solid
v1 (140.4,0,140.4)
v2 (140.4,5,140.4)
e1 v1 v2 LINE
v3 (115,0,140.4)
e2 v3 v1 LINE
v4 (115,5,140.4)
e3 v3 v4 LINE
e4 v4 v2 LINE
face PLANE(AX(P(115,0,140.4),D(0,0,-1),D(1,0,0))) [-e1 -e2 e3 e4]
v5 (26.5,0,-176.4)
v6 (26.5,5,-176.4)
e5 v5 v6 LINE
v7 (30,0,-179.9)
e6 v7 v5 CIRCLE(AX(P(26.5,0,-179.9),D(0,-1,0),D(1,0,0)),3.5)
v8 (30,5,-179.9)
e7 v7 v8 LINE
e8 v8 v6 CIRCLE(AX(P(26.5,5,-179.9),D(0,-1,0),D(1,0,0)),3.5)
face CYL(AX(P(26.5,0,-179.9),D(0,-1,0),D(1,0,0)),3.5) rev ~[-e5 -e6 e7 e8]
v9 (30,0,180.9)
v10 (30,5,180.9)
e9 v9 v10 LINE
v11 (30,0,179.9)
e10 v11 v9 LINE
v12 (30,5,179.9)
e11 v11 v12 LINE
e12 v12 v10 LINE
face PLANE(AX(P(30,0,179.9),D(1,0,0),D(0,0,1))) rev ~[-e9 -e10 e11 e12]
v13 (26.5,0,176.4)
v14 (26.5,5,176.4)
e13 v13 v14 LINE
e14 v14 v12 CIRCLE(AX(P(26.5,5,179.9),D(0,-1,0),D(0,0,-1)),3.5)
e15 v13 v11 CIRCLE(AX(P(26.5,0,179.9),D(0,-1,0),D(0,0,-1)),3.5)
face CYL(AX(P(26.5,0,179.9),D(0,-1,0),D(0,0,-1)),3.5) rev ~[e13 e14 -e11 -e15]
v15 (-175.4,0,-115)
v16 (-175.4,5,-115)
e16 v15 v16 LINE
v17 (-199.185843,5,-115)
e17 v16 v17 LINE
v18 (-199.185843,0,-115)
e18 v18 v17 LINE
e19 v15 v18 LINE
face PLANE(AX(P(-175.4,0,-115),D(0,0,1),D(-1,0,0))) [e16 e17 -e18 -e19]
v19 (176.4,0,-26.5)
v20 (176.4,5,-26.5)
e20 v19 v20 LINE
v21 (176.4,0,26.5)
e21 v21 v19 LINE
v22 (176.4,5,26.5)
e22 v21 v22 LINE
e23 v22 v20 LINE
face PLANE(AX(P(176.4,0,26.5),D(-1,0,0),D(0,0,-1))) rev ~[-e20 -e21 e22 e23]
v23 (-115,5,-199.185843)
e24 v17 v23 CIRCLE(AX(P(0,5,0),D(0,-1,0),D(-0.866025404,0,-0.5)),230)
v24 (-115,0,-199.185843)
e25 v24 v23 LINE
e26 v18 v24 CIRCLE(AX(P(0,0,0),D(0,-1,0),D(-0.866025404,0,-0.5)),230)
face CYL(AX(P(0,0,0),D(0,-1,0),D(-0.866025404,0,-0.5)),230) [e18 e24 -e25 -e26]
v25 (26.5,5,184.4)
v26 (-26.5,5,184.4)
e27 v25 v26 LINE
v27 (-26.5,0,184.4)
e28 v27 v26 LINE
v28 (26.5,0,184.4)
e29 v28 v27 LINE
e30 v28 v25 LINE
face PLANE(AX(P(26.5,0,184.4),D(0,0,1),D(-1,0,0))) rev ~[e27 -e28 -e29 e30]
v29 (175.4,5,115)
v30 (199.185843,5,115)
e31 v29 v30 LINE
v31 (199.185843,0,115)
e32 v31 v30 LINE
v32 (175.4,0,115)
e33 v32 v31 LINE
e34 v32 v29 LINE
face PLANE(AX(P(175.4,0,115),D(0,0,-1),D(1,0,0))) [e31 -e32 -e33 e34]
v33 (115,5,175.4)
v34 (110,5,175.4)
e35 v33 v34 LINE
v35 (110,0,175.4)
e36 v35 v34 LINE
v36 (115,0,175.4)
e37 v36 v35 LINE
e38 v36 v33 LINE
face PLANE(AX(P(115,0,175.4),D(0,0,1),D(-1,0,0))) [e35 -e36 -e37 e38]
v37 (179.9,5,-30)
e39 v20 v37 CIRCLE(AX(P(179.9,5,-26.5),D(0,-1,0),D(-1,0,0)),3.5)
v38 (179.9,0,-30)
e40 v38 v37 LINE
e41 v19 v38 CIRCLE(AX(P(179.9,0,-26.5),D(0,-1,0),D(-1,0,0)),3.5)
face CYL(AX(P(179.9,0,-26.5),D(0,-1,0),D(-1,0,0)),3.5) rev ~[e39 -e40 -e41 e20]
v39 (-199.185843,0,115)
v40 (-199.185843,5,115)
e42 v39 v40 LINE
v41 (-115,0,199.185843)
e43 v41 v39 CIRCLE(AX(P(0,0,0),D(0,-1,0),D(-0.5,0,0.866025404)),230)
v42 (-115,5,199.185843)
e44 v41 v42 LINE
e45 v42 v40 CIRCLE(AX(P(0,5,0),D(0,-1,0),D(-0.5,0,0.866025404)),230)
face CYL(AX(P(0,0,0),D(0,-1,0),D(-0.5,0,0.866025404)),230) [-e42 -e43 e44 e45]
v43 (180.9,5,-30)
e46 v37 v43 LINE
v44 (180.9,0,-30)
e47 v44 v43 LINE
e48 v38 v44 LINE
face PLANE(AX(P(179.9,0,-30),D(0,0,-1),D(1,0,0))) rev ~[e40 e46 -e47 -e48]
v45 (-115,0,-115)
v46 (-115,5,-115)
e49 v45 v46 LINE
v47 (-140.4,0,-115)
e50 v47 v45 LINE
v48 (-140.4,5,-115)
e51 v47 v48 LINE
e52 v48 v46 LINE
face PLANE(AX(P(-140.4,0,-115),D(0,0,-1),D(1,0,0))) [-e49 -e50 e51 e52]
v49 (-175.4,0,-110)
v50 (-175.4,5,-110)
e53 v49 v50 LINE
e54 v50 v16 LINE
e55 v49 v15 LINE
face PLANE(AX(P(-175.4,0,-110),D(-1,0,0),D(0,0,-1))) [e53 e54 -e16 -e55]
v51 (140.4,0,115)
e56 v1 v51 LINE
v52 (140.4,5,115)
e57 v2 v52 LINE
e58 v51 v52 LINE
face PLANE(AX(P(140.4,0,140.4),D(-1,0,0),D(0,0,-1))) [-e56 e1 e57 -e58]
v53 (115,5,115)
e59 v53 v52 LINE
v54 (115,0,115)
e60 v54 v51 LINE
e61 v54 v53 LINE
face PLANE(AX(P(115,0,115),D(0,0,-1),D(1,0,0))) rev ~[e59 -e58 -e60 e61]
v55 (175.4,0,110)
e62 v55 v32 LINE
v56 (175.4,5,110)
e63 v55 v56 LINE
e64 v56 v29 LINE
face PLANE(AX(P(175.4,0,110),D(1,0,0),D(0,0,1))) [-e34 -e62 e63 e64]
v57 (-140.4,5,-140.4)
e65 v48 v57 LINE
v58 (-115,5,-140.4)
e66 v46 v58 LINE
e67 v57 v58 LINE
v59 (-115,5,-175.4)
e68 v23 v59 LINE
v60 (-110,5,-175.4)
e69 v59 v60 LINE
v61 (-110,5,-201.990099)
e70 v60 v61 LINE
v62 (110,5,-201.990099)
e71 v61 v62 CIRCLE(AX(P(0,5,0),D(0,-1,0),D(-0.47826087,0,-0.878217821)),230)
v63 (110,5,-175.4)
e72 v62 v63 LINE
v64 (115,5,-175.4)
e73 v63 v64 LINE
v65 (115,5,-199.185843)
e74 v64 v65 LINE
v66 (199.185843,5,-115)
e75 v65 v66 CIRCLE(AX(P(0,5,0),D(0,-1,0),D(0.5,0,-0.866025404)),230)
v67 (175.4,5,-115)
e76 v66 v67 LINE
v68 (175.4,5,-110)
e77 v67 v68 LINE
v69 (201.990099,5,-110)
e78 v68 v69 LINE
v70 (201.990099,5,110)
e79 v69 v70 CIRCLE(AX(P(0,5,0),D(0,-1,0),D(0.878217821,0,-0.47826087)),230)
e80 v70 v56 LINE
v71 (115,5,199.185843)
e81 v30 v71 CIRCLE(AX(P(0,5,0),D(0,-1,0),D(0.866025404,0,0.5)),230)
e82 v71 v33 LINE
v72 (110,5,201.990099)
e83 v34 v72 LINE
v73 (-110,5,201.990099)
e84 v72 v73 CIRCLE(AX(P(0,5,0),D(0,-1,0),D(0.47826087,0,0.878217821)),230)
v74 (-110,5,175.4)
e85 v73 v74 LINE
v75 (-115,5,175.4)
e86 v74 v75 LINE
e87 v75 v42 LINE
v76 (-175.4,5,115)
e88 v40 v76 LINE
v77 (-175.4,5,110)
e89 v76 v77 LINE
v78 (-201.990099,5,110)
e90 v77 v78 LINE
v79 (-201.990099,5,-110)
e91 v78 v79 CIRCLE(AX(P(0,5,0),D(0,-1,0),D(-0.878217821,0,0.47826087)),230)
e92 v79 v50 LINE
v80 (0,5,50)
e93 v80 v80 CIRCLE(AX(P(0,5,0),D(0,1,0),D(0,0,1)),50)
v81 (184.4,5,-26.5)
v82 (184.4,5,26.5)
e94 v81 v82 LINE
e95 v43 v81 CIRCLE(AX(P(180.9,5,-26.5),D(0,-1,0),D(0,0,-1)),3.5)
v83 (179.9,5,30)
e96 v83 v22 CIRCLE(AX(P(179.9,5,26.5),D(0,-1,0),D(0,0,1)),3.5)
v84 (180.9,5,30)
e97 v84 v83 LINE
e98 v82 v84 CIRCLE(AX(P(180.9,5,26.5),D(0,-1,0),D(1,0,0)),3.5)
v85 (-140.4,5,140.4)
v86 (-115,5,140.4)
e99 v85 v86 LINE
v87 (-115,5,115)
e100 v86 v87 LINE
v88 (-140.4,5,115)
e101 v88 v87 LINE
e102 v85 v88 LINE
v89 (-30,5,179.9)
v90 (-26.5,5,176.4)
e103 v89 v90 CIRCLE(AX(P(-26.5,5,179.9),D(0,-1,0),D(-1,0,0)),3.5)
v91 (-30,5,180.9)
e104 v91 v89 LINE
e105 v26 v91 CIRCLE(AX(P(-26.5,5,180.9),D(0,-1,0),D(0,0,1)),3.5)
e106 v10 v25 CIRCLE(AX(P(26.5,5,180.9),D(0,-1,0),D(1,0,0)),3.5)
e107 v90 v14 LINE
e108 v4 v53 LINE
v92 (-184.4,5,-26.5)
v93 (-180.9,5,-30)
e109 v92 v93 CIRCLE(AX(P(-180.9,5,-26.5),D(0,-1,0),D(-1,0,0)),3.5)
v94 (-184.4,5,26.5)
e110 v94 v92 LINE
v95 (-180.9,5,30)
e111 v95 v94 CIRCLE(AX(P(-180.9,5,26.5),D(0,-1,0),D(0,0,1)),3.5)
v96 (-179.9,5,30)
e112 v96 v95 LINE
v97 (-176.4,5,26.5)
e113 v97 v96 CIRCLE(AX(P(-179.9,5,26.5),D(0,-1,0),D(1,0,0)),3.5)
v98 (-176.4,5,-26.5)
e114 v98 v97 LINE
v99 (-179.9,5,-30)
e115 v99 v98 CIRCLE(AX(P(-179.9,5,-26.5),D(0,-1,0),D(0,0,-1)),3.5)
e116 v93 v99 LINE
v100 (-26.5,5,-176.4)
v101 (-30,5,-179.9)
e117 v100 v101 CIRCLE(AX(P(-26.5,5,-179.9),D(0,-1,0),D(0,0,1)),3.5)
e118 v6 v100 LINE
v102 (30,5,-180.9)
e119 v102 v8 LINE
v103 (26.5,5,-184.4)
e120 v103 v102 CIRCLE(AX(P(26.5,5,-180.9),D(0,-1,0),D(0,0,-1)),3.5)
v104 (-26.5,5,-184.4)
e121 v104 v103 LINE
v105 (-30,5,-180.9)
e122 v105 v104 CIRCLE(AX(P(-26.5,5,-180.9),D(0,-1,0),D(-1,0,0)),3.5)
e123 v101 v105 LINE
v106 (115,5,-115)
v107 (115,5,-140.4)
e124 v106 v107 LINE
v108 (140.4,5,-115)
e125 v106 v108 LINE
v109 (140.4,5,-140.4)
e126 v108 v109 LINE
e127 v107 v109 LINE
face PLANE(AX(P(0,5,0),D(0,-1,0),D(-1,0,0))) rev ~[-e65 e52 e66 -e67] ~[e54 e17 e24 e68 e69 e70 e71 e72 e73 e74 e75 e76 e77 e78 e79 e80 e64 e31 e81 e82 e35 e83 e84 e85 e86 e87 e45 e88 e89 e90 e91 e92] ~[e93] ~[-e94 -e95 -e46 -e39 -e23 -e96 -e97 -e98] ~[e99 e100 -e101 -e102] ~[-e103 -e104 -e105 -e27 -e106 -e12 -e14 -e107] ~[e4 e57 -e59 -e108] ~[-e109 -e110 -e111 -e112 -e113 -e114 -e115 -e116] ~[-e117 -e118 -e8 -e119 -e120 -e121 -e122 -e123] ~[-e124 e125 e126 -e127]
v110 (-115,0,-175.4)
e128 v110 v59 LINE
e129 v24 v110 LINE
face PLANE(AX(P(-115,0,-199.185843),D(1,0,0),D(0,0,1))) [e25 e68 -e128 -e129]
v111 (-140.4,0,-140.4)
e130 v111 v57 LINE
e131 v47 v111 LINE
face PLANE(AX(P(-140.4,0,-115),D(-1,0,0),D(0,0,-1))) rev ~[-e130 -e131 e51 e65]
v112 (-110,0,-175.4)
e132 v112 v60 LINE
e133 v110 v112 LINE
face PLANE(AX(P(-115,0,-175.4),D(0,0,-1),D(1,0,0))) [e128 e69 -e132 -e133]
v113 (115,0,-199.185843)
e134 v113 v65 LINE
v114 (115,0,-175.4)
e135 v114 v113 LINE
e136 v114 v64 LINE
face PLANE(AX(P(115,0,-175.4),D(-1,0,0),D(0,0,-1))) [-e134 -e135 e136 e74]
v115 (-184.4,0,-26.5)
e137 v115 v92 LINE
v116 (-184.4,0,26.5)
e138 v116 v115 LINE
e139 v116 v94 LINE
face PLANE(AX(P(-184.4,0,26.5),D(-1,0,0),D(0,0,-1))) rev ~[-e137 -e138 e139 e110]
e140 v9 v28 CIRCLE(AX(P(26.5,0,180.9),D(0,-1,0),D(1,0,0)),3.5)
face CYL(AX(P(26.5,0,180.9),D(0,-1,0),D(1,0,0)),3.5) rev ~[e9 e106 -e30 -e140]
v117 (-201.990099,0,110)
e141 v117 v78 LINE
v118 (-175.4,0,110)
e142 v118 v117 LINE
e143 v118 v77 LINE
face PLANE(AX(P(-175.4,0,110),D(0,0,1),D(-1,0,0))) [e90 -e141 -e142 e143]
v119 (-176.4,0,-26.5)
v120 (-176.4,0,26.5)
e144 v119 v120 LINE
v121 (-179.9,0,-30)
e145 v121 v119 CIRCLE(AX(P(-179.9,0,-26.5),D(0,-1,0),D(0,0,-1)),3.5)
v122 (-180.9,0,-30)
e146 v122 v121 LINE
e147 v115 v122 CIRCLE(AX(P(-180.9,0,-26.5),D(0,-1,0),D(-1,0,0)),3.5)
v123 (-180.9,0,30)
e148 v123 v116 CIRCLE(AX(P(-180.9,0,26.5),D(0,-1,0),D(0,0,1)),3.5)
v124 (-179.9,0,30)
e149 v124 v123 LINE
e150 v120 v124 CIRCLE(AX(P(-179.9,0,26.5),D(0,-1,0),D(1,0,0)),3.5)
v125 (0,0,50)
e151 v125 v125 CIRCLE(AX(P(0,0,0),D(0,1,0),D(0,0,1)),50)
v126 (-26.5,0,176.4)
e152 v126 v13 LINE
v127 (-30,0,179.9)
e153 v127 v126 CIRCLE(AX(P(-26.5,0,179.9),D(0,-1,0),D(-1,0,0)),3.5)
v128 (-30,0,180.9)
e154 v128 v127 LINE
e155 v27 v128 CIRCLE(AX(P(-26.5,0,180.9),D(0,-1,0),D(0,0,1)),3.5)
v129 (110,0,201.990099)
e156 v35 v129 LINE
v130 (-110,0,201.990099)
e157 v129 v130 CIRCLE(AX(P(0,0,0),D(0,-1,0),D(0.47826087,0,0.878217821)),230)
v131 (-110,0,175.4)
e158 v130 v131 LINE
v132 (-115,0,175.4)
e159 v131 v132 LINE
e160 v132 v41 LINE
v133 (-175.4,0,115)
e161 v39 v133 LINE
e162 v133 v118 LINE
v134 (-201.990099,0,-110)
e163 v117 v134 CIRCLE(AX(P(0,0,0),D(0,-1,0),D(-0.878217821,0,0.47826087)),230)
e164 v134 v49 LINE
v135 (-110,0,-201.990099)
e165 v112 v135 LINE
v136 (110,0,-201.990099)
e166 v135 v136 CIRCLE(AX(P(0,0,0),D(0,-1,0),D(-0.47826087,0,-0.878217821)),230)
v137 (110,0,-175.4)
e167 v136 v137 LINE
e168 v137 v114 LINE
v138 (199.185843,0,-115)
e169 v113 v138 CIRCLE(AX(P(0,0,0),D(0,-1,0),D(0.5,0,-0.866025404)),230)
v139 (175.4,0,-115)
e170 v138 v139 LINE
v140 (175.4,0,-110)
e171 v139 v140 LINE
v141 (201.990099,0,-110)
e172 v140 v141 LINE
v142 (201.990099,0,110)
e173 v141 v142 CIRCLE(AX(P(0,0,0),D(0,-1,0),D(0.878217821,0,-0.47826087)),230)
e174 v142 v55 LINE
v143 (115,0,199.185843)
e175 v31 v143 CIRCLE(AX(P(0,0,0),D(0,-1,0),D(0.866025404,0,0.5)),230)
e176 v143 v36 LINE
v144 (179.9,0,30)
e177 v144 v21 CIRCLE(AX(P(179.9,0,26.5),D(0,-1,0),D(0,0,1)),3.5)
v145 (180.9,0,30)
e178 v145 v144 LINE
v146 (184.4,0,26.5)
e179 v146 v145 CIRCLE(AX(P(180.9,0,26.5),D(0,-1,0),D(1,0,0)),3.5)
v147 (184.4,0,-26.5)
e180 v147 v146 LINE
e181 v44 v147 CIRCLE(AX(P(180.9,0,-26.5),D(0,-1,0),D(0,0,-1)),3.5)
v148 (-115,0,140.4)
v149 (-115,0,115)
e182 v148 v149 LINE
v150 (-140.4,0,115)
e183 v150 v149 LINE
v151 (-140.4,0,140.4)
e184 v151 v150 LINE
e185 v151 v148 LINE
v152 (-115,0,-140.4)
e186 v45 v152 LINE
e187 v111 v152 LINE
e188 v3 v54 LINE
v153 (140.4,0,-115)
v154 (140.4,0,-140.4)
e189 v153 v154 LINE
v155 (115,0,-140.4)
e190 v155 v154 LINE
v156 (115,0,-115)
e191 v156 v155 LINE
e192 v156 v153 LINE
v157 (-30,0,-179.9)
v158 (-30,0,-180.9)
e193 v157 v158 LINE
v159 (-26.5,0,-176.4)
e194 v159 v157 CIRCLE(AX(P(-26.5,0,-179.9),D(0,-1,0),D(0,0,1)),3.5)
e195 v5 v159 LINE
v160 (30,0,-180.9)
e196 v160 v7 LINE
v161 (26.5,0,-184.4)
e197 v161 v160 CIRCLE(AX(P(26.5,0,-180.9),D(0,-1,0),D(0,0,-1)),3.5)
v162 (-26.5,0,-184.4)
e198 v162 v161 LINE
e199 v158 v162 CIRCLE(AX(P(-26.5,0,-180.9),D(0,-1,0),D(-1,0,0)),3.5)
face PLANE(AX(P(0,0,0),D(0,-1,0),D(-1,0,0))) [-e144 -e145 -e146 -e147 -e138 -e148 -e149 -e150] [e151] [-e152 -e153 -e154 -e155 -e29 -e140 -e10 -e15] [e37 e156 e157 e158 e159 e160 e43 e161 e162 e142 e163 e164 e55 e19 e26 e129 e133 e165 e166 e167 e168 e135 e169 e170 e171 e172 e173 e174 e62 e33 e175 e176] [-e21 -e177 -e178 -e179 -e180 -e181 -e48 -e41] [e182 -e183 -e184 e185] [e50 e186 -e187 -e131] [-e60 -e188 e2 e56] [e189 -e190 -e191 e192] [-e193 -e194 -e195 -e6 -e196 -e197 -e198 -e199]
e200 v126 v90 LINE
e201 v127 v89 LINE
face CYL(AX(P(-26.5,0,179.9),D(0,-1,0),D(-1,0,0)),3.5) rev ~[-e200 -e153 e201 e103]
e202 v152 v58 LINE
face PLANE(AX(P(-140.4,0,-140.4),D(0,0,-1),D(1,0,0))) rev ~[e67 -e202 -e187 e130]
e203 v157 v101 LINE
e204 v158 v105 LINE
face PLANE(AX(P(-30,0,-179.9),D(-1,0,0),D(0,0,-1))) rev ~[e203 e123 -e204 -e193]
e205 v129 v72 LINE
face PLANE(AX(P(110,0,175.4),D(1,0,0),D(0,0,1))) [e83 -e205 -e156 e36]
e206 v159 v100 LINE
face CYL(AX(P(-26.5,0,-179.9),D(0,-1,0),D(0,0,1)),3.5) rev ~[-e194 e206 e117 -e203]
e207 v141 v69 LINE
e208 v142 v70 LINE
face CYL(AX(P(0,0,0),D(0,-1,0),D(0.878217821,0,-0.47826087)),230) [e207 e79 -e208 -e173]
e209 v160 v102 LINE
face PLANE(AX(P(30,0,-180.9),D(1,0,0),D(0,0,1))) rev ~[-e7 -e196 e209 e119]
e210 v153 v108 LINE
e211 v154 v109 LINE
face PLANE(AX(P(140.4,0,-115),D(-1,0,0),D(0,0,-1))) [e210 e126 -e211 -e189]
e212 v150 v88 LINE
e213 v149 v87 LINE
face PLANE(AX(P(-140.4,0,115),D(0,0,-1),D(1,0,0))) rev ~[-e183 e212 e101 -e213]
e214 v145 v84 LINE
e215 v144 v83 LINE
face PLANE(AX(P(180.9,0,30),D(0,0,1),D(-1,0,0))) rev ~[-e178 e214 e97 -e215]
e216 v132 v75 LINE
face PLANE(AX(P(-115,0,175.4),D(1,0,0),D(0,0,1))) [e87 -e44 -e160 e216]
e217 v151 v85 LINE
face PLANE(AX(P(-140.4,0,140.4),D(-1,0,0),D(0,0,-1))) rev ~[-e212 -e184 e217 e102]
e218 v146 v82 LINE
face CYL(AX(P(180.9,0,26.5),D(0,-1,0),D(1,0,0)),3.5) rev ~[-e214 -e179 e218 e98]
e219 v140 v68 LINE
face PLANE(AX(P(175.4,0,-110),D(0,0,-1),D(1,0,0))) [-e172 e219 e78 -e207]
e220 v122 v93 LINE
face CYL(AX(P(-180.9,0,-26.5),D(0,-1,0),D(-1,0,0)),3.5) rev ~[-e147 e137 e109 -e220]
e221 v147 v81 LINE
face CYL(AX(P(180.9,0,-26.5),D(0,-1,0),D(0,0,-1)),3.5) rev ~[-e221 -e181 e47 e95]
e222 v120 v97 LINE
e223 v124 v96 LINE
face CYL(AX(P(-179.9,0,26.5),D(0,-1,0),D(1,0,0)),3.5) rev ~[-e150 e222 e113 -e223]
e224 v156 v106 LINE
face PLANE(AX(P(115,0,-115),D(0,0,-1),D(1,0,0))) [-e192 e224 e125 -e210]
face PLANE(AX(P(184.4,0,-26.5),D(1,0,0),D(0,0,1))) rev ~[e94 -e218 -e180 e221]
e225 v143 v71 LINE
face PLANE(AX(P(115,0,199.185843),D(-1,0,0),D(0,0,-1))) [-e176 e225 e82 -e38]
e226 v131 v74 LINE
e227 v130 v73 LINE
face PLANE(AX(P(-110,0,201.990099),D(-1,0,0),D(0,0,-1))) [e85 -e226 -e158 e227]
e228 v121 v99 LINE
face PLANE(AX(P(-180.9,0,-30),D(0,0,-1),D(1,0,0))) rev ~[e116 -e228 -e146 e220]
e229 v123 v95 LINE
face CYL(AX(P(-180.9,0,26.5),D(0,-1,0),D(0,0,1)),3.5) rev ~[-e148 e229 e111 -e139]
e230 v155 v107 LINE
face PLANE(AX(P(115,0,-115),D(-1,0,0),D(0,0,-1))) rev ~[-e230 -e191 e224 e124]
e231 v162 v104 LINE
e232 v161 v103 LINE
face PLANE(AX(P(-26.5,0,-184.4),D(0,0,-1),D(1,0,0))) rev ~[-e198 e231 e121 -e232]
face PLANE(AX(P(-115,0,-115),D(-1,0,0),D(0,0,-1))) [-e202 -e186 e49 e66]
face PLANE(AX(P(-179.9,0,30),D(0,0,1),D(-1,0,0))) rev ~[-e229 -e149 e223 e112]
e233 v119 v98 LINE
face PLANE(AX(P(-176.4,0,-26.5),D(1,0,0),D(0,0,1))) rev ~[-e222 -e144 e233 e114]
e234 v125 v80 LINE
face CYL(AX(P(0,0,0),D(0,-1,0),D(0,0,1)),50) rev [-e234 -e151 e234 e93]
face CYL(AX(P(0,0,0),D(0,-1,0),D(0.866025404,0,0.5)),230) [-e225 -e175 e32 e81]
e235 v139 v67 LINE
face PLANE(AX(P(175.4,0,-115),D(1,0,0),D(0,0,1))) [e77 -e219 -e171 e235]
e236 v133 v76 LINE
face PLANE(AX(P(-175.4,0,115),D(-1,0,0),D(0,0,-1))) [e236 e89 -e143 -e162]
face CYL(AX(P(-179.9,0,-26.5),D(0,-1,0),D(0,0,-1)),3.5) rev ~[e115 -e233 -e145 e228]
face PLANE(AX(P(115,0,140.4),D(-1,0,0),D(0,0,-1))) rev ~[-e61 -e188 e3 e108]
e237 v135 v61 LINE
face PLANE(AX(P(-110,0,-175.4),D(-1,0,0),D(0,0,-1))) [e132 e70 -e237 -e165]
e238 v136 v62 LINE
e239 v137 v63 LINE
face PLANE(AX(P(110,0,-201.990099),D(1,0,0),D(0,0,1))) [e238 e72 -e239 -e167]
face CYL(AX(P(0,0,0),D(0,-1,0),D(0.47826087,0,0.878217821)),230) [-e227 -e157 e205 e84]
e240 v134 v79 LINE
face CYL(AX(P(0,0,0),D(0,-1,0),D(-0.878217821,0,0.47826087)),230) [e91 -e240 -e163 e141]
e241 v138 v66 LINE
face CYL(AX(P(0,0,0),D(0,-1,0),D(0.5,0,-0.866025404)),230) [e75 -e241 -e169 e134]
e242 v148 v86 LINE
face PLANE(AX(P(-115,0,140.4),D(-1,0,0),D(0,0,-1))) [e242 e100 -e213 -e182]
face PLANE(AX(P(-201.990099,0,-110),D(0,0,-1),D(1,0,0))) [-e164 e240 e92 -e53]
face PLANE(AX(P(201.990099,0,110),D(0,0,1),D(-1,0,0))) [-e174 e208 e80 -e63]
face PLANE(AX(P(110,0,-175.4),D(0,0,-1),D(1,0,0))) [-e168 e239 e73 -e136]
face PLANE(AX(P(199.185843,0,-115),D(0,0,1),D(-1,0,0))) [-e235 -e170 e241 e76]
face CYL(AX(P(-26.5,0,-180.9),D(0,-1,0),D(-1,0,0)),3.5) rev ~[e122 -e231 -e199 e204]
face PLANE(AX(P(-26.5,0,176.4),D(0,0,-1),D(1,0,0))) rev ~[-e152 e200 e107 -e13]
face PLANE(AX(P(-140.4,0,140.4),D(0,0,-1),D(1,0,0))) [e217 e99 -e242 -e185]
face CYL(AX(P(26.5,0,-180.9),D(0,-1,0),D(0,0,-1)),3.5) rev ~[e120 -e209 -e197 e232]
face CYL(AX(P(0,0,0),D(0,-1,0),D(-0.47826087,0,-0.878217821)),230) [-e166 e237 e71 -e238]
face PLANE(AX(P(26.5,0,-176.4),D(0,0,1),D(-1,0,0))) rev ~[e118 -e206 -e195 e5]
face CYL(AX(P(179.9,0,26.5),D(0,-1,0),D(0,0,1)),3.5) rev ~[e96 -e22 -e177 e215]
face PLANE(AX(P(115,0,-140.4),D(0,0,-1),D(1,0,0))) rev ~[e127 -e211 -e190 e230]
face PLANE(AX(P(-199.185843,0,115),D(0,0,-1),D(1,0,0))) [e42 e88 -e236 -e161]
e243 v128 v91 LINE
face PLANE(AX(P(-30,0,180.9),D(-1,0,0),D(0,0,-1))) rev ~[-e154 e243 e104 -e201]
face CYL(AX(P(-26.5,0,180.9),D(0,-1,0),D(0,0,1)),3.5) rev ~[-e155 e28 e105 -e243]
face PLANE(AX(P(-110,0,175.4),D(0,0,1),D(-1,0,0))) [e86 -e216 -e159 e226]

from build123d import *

# Parameters (mm, degrees)
SKETCH1_R           = 50
SKETCH1_W           = 25.4
SKETCH1_H           = 25.4
BOSS_EXTRUDE1_DEPTH = 5


with BuildPart() as part:
    # Sketch1 → Boss-Extrude1 (new body)
    with BuildSketch(Plane(origin=(0, 0, 0), x_dir=(1, 0, 0), z_dir=(0, 1, 0))):
        with BuildLine():
            Line((175.4, 110), (201.990098767, 110))
            ThreePointArc((201.990098767, 110), (230, 0), (201.990098767, -110))
            Line((201.990098767, -110), (175.4, -110))
            Line((175.4, -110), (175.4, -115))
            Line((175.4, -115), (199.18584287, -115))
            ThreePointArc((199.18584287, -115), (162.634559673, -162.634559673), (115, -199.18584287))
            Line((115, -199.18584287), (115, -175.4))
            Line((115, -175.4), (110, -175.4))
            Line((110, -175.4), (110, -201.990098767))
            ThreePointArc((110, -201.990098767), (0, -230), (-110, -201.990098767))
            Line((-110, -201.990098767), (-110, -175.4))
            Line((-110, -175.4), (-115, -175.4))
            Line((-115, -175.4), (-115, -199.18584287))
            ThreePointArc((-115, -199.18584287), (-162.634559673, -162.634559673), (-199.18584287, -115))
            Line((-199.18584287, -115), (-175.4, -115))
            Line((-175.4, -115), (-175.4, -110))
            Line((-175.4, -110), (-201.990098767, -110))
            ThreePointArc((-201.990098767, -110), (-230, 0), (-201.990098767, 110))
            Line((-201.990098767, 110), (-175.4, 110))
            Line((-175.4, 110), (-175.4, 115))
            Line((-175.4, 115), (-199.18584287, 115))
            ThreePointArc((-199.18584287, 115), (-162.634559673, 162.634559673), (-115, 199.18584287))
            Line((-115, 199.18584287), (-115, 175.4))
            Line((-115, 175.4), (-110, 175.4))
            Line((-110, 175.4), (-110, 201.990098767))
            ThreePointArc((-110, 201.990098767), (0, 230), (110, 201.990098767))
            Line((110, 201.990098767), (110, 175.4))
            Line((110, 175.4), (115, 175.4))
            Line((115, 175.4), (115, 199.18584287))
            ThreePointArc((115, 199.18584287), (162.634559673, 162.634559673), (199.18584287, 115))
            Line((199.18584287, 115), (175.4, 115))
            Line((175.4, 115), (175.4, 110))
        make_face()
        with Locations(Location((0, 0, 0), (0, 0, 270))):
            Circle(SKETCH1_R, mode=Mode.SUBTRACT)
        with Locations((127.7, 127.7)):
            Rectangle(SKETCH1_W, SKETCH1_H, mode=Mode.SUBTRACT)
        with Locations((-127.7, 127.7)):
            Rectangle(SKETCH1_W, SKETCH1_H, mode=Mode.SUBTRACT)
        with Locations((127.7, -127.7)):
            Rectangle(SKETCH1_W, SKETCH1_H, mode=Mode.SUBTRACT)
        with Locations((-127.7, -127.7)):
            Rectangle(SKETCH1_W, SKETCH1_H, mode=Mode.SUBTRACT)
        with BuildLine():
            Line((184.4, 26.5), (184.4, -26.5))
            ThreePointArc((184.4, -26.5), (183.374873734, -28.974873734), (180.9, -30))
            Line((180.9, -30), (179.9, -30))
            ThreePointArc((179.9, -30), (177.425126266, -28.974873734), (176.4, -26.5))
            Line((176.4, -26.5), (176.4, 26.5))
            ThreePointArc((176.4, 26.5), (177.425126266, 28.974873734), (179.9, 30))
            Line((179.9, 30), (180.9, 30))
            ThreePointArc((180.9, 30), (183.374873734, 28.974873734), (184.4, 26.5))
        make_face(mode=Mode.SUBTRACT)
        with BuildLine():
            Line((-26.5, 184.4), (26.5, 184.4))
            ThreePointArc((26.5, 184.4), (28.974873734, 183.374873734), (30, 180.9))
            Line((30, 180.9), (30, 179.9))
            ThreePointArc((30, 179.9), (28.974873734, 177.425126266), (26.5, 176.4))
            Line((26.5, 176.4), (-26.5, 176.4))
            ThreePointArc((-26.5, 176.4), (-28.974873734, 177.425126266), (-30, 179.9))
            Line((-30, 179.9), (-30, 180.9))
            ThreePointArc((-30, 180.9), (-28.974873734, 183.374873734), (-26.5, 184.4))
        make_face(mode=Mode.SUBTRACT)
        with BuildLine():
            Line((26.5, -184.4), (-26.5, -184.4))
            ThreePointArc((-26.5, -184.4), (-28.974873734, -183.374873734), (-30, -180.9))
            Line((-30, -180.9), (-30, -179.9))
            ThreePointArc((-30, -179.9), (-28.974873734, -177.425126266), (-26.5, -176.4))
            Line((-26.5, -176.4), (26.5, -176.4))
            ThreePointArc((26.5, -176.4), (28.974873734, -177.425126266), (30, -179.9))
            Line((30, -179.9), (30, -180.9))
            ThreePointArc((30, -180.9), (28.974873734, -183.374873734), (26.5, -184.4))
        make_face(mode=Mode.SUBTRACT)
        with BuildLine():
            Line((-184.4, -26.5), (-184.4, 26.5))
            ThreePointArc((-184.4, 26.5), (-183.374873734, 28.974873734), (-180.9, 30))
            Line((-180.9, 30), (-179.9, 30))
            ThreePointArc((-179.9, 30), (-177.425126266, 28.974873734), (-176.4, 26.5))
            Line((-176.4, 26.5), (-176.4, -26.5))
            ThreePointArc((-176.4, -26.5), (-177.425126266, -28.974873734), (-179.9, -30))
            Line((-179.9, -30), (-180.9, -30))
            ThreePointArc((-180.9, -30), (-183.374873734, -28.974873734), (-184.4, -26.5))
        make_face(mode=Mode.SUBTRACT)
    extrude(amount=BOSS_EXTRUDE1_DEPTH)


solid = part.part
